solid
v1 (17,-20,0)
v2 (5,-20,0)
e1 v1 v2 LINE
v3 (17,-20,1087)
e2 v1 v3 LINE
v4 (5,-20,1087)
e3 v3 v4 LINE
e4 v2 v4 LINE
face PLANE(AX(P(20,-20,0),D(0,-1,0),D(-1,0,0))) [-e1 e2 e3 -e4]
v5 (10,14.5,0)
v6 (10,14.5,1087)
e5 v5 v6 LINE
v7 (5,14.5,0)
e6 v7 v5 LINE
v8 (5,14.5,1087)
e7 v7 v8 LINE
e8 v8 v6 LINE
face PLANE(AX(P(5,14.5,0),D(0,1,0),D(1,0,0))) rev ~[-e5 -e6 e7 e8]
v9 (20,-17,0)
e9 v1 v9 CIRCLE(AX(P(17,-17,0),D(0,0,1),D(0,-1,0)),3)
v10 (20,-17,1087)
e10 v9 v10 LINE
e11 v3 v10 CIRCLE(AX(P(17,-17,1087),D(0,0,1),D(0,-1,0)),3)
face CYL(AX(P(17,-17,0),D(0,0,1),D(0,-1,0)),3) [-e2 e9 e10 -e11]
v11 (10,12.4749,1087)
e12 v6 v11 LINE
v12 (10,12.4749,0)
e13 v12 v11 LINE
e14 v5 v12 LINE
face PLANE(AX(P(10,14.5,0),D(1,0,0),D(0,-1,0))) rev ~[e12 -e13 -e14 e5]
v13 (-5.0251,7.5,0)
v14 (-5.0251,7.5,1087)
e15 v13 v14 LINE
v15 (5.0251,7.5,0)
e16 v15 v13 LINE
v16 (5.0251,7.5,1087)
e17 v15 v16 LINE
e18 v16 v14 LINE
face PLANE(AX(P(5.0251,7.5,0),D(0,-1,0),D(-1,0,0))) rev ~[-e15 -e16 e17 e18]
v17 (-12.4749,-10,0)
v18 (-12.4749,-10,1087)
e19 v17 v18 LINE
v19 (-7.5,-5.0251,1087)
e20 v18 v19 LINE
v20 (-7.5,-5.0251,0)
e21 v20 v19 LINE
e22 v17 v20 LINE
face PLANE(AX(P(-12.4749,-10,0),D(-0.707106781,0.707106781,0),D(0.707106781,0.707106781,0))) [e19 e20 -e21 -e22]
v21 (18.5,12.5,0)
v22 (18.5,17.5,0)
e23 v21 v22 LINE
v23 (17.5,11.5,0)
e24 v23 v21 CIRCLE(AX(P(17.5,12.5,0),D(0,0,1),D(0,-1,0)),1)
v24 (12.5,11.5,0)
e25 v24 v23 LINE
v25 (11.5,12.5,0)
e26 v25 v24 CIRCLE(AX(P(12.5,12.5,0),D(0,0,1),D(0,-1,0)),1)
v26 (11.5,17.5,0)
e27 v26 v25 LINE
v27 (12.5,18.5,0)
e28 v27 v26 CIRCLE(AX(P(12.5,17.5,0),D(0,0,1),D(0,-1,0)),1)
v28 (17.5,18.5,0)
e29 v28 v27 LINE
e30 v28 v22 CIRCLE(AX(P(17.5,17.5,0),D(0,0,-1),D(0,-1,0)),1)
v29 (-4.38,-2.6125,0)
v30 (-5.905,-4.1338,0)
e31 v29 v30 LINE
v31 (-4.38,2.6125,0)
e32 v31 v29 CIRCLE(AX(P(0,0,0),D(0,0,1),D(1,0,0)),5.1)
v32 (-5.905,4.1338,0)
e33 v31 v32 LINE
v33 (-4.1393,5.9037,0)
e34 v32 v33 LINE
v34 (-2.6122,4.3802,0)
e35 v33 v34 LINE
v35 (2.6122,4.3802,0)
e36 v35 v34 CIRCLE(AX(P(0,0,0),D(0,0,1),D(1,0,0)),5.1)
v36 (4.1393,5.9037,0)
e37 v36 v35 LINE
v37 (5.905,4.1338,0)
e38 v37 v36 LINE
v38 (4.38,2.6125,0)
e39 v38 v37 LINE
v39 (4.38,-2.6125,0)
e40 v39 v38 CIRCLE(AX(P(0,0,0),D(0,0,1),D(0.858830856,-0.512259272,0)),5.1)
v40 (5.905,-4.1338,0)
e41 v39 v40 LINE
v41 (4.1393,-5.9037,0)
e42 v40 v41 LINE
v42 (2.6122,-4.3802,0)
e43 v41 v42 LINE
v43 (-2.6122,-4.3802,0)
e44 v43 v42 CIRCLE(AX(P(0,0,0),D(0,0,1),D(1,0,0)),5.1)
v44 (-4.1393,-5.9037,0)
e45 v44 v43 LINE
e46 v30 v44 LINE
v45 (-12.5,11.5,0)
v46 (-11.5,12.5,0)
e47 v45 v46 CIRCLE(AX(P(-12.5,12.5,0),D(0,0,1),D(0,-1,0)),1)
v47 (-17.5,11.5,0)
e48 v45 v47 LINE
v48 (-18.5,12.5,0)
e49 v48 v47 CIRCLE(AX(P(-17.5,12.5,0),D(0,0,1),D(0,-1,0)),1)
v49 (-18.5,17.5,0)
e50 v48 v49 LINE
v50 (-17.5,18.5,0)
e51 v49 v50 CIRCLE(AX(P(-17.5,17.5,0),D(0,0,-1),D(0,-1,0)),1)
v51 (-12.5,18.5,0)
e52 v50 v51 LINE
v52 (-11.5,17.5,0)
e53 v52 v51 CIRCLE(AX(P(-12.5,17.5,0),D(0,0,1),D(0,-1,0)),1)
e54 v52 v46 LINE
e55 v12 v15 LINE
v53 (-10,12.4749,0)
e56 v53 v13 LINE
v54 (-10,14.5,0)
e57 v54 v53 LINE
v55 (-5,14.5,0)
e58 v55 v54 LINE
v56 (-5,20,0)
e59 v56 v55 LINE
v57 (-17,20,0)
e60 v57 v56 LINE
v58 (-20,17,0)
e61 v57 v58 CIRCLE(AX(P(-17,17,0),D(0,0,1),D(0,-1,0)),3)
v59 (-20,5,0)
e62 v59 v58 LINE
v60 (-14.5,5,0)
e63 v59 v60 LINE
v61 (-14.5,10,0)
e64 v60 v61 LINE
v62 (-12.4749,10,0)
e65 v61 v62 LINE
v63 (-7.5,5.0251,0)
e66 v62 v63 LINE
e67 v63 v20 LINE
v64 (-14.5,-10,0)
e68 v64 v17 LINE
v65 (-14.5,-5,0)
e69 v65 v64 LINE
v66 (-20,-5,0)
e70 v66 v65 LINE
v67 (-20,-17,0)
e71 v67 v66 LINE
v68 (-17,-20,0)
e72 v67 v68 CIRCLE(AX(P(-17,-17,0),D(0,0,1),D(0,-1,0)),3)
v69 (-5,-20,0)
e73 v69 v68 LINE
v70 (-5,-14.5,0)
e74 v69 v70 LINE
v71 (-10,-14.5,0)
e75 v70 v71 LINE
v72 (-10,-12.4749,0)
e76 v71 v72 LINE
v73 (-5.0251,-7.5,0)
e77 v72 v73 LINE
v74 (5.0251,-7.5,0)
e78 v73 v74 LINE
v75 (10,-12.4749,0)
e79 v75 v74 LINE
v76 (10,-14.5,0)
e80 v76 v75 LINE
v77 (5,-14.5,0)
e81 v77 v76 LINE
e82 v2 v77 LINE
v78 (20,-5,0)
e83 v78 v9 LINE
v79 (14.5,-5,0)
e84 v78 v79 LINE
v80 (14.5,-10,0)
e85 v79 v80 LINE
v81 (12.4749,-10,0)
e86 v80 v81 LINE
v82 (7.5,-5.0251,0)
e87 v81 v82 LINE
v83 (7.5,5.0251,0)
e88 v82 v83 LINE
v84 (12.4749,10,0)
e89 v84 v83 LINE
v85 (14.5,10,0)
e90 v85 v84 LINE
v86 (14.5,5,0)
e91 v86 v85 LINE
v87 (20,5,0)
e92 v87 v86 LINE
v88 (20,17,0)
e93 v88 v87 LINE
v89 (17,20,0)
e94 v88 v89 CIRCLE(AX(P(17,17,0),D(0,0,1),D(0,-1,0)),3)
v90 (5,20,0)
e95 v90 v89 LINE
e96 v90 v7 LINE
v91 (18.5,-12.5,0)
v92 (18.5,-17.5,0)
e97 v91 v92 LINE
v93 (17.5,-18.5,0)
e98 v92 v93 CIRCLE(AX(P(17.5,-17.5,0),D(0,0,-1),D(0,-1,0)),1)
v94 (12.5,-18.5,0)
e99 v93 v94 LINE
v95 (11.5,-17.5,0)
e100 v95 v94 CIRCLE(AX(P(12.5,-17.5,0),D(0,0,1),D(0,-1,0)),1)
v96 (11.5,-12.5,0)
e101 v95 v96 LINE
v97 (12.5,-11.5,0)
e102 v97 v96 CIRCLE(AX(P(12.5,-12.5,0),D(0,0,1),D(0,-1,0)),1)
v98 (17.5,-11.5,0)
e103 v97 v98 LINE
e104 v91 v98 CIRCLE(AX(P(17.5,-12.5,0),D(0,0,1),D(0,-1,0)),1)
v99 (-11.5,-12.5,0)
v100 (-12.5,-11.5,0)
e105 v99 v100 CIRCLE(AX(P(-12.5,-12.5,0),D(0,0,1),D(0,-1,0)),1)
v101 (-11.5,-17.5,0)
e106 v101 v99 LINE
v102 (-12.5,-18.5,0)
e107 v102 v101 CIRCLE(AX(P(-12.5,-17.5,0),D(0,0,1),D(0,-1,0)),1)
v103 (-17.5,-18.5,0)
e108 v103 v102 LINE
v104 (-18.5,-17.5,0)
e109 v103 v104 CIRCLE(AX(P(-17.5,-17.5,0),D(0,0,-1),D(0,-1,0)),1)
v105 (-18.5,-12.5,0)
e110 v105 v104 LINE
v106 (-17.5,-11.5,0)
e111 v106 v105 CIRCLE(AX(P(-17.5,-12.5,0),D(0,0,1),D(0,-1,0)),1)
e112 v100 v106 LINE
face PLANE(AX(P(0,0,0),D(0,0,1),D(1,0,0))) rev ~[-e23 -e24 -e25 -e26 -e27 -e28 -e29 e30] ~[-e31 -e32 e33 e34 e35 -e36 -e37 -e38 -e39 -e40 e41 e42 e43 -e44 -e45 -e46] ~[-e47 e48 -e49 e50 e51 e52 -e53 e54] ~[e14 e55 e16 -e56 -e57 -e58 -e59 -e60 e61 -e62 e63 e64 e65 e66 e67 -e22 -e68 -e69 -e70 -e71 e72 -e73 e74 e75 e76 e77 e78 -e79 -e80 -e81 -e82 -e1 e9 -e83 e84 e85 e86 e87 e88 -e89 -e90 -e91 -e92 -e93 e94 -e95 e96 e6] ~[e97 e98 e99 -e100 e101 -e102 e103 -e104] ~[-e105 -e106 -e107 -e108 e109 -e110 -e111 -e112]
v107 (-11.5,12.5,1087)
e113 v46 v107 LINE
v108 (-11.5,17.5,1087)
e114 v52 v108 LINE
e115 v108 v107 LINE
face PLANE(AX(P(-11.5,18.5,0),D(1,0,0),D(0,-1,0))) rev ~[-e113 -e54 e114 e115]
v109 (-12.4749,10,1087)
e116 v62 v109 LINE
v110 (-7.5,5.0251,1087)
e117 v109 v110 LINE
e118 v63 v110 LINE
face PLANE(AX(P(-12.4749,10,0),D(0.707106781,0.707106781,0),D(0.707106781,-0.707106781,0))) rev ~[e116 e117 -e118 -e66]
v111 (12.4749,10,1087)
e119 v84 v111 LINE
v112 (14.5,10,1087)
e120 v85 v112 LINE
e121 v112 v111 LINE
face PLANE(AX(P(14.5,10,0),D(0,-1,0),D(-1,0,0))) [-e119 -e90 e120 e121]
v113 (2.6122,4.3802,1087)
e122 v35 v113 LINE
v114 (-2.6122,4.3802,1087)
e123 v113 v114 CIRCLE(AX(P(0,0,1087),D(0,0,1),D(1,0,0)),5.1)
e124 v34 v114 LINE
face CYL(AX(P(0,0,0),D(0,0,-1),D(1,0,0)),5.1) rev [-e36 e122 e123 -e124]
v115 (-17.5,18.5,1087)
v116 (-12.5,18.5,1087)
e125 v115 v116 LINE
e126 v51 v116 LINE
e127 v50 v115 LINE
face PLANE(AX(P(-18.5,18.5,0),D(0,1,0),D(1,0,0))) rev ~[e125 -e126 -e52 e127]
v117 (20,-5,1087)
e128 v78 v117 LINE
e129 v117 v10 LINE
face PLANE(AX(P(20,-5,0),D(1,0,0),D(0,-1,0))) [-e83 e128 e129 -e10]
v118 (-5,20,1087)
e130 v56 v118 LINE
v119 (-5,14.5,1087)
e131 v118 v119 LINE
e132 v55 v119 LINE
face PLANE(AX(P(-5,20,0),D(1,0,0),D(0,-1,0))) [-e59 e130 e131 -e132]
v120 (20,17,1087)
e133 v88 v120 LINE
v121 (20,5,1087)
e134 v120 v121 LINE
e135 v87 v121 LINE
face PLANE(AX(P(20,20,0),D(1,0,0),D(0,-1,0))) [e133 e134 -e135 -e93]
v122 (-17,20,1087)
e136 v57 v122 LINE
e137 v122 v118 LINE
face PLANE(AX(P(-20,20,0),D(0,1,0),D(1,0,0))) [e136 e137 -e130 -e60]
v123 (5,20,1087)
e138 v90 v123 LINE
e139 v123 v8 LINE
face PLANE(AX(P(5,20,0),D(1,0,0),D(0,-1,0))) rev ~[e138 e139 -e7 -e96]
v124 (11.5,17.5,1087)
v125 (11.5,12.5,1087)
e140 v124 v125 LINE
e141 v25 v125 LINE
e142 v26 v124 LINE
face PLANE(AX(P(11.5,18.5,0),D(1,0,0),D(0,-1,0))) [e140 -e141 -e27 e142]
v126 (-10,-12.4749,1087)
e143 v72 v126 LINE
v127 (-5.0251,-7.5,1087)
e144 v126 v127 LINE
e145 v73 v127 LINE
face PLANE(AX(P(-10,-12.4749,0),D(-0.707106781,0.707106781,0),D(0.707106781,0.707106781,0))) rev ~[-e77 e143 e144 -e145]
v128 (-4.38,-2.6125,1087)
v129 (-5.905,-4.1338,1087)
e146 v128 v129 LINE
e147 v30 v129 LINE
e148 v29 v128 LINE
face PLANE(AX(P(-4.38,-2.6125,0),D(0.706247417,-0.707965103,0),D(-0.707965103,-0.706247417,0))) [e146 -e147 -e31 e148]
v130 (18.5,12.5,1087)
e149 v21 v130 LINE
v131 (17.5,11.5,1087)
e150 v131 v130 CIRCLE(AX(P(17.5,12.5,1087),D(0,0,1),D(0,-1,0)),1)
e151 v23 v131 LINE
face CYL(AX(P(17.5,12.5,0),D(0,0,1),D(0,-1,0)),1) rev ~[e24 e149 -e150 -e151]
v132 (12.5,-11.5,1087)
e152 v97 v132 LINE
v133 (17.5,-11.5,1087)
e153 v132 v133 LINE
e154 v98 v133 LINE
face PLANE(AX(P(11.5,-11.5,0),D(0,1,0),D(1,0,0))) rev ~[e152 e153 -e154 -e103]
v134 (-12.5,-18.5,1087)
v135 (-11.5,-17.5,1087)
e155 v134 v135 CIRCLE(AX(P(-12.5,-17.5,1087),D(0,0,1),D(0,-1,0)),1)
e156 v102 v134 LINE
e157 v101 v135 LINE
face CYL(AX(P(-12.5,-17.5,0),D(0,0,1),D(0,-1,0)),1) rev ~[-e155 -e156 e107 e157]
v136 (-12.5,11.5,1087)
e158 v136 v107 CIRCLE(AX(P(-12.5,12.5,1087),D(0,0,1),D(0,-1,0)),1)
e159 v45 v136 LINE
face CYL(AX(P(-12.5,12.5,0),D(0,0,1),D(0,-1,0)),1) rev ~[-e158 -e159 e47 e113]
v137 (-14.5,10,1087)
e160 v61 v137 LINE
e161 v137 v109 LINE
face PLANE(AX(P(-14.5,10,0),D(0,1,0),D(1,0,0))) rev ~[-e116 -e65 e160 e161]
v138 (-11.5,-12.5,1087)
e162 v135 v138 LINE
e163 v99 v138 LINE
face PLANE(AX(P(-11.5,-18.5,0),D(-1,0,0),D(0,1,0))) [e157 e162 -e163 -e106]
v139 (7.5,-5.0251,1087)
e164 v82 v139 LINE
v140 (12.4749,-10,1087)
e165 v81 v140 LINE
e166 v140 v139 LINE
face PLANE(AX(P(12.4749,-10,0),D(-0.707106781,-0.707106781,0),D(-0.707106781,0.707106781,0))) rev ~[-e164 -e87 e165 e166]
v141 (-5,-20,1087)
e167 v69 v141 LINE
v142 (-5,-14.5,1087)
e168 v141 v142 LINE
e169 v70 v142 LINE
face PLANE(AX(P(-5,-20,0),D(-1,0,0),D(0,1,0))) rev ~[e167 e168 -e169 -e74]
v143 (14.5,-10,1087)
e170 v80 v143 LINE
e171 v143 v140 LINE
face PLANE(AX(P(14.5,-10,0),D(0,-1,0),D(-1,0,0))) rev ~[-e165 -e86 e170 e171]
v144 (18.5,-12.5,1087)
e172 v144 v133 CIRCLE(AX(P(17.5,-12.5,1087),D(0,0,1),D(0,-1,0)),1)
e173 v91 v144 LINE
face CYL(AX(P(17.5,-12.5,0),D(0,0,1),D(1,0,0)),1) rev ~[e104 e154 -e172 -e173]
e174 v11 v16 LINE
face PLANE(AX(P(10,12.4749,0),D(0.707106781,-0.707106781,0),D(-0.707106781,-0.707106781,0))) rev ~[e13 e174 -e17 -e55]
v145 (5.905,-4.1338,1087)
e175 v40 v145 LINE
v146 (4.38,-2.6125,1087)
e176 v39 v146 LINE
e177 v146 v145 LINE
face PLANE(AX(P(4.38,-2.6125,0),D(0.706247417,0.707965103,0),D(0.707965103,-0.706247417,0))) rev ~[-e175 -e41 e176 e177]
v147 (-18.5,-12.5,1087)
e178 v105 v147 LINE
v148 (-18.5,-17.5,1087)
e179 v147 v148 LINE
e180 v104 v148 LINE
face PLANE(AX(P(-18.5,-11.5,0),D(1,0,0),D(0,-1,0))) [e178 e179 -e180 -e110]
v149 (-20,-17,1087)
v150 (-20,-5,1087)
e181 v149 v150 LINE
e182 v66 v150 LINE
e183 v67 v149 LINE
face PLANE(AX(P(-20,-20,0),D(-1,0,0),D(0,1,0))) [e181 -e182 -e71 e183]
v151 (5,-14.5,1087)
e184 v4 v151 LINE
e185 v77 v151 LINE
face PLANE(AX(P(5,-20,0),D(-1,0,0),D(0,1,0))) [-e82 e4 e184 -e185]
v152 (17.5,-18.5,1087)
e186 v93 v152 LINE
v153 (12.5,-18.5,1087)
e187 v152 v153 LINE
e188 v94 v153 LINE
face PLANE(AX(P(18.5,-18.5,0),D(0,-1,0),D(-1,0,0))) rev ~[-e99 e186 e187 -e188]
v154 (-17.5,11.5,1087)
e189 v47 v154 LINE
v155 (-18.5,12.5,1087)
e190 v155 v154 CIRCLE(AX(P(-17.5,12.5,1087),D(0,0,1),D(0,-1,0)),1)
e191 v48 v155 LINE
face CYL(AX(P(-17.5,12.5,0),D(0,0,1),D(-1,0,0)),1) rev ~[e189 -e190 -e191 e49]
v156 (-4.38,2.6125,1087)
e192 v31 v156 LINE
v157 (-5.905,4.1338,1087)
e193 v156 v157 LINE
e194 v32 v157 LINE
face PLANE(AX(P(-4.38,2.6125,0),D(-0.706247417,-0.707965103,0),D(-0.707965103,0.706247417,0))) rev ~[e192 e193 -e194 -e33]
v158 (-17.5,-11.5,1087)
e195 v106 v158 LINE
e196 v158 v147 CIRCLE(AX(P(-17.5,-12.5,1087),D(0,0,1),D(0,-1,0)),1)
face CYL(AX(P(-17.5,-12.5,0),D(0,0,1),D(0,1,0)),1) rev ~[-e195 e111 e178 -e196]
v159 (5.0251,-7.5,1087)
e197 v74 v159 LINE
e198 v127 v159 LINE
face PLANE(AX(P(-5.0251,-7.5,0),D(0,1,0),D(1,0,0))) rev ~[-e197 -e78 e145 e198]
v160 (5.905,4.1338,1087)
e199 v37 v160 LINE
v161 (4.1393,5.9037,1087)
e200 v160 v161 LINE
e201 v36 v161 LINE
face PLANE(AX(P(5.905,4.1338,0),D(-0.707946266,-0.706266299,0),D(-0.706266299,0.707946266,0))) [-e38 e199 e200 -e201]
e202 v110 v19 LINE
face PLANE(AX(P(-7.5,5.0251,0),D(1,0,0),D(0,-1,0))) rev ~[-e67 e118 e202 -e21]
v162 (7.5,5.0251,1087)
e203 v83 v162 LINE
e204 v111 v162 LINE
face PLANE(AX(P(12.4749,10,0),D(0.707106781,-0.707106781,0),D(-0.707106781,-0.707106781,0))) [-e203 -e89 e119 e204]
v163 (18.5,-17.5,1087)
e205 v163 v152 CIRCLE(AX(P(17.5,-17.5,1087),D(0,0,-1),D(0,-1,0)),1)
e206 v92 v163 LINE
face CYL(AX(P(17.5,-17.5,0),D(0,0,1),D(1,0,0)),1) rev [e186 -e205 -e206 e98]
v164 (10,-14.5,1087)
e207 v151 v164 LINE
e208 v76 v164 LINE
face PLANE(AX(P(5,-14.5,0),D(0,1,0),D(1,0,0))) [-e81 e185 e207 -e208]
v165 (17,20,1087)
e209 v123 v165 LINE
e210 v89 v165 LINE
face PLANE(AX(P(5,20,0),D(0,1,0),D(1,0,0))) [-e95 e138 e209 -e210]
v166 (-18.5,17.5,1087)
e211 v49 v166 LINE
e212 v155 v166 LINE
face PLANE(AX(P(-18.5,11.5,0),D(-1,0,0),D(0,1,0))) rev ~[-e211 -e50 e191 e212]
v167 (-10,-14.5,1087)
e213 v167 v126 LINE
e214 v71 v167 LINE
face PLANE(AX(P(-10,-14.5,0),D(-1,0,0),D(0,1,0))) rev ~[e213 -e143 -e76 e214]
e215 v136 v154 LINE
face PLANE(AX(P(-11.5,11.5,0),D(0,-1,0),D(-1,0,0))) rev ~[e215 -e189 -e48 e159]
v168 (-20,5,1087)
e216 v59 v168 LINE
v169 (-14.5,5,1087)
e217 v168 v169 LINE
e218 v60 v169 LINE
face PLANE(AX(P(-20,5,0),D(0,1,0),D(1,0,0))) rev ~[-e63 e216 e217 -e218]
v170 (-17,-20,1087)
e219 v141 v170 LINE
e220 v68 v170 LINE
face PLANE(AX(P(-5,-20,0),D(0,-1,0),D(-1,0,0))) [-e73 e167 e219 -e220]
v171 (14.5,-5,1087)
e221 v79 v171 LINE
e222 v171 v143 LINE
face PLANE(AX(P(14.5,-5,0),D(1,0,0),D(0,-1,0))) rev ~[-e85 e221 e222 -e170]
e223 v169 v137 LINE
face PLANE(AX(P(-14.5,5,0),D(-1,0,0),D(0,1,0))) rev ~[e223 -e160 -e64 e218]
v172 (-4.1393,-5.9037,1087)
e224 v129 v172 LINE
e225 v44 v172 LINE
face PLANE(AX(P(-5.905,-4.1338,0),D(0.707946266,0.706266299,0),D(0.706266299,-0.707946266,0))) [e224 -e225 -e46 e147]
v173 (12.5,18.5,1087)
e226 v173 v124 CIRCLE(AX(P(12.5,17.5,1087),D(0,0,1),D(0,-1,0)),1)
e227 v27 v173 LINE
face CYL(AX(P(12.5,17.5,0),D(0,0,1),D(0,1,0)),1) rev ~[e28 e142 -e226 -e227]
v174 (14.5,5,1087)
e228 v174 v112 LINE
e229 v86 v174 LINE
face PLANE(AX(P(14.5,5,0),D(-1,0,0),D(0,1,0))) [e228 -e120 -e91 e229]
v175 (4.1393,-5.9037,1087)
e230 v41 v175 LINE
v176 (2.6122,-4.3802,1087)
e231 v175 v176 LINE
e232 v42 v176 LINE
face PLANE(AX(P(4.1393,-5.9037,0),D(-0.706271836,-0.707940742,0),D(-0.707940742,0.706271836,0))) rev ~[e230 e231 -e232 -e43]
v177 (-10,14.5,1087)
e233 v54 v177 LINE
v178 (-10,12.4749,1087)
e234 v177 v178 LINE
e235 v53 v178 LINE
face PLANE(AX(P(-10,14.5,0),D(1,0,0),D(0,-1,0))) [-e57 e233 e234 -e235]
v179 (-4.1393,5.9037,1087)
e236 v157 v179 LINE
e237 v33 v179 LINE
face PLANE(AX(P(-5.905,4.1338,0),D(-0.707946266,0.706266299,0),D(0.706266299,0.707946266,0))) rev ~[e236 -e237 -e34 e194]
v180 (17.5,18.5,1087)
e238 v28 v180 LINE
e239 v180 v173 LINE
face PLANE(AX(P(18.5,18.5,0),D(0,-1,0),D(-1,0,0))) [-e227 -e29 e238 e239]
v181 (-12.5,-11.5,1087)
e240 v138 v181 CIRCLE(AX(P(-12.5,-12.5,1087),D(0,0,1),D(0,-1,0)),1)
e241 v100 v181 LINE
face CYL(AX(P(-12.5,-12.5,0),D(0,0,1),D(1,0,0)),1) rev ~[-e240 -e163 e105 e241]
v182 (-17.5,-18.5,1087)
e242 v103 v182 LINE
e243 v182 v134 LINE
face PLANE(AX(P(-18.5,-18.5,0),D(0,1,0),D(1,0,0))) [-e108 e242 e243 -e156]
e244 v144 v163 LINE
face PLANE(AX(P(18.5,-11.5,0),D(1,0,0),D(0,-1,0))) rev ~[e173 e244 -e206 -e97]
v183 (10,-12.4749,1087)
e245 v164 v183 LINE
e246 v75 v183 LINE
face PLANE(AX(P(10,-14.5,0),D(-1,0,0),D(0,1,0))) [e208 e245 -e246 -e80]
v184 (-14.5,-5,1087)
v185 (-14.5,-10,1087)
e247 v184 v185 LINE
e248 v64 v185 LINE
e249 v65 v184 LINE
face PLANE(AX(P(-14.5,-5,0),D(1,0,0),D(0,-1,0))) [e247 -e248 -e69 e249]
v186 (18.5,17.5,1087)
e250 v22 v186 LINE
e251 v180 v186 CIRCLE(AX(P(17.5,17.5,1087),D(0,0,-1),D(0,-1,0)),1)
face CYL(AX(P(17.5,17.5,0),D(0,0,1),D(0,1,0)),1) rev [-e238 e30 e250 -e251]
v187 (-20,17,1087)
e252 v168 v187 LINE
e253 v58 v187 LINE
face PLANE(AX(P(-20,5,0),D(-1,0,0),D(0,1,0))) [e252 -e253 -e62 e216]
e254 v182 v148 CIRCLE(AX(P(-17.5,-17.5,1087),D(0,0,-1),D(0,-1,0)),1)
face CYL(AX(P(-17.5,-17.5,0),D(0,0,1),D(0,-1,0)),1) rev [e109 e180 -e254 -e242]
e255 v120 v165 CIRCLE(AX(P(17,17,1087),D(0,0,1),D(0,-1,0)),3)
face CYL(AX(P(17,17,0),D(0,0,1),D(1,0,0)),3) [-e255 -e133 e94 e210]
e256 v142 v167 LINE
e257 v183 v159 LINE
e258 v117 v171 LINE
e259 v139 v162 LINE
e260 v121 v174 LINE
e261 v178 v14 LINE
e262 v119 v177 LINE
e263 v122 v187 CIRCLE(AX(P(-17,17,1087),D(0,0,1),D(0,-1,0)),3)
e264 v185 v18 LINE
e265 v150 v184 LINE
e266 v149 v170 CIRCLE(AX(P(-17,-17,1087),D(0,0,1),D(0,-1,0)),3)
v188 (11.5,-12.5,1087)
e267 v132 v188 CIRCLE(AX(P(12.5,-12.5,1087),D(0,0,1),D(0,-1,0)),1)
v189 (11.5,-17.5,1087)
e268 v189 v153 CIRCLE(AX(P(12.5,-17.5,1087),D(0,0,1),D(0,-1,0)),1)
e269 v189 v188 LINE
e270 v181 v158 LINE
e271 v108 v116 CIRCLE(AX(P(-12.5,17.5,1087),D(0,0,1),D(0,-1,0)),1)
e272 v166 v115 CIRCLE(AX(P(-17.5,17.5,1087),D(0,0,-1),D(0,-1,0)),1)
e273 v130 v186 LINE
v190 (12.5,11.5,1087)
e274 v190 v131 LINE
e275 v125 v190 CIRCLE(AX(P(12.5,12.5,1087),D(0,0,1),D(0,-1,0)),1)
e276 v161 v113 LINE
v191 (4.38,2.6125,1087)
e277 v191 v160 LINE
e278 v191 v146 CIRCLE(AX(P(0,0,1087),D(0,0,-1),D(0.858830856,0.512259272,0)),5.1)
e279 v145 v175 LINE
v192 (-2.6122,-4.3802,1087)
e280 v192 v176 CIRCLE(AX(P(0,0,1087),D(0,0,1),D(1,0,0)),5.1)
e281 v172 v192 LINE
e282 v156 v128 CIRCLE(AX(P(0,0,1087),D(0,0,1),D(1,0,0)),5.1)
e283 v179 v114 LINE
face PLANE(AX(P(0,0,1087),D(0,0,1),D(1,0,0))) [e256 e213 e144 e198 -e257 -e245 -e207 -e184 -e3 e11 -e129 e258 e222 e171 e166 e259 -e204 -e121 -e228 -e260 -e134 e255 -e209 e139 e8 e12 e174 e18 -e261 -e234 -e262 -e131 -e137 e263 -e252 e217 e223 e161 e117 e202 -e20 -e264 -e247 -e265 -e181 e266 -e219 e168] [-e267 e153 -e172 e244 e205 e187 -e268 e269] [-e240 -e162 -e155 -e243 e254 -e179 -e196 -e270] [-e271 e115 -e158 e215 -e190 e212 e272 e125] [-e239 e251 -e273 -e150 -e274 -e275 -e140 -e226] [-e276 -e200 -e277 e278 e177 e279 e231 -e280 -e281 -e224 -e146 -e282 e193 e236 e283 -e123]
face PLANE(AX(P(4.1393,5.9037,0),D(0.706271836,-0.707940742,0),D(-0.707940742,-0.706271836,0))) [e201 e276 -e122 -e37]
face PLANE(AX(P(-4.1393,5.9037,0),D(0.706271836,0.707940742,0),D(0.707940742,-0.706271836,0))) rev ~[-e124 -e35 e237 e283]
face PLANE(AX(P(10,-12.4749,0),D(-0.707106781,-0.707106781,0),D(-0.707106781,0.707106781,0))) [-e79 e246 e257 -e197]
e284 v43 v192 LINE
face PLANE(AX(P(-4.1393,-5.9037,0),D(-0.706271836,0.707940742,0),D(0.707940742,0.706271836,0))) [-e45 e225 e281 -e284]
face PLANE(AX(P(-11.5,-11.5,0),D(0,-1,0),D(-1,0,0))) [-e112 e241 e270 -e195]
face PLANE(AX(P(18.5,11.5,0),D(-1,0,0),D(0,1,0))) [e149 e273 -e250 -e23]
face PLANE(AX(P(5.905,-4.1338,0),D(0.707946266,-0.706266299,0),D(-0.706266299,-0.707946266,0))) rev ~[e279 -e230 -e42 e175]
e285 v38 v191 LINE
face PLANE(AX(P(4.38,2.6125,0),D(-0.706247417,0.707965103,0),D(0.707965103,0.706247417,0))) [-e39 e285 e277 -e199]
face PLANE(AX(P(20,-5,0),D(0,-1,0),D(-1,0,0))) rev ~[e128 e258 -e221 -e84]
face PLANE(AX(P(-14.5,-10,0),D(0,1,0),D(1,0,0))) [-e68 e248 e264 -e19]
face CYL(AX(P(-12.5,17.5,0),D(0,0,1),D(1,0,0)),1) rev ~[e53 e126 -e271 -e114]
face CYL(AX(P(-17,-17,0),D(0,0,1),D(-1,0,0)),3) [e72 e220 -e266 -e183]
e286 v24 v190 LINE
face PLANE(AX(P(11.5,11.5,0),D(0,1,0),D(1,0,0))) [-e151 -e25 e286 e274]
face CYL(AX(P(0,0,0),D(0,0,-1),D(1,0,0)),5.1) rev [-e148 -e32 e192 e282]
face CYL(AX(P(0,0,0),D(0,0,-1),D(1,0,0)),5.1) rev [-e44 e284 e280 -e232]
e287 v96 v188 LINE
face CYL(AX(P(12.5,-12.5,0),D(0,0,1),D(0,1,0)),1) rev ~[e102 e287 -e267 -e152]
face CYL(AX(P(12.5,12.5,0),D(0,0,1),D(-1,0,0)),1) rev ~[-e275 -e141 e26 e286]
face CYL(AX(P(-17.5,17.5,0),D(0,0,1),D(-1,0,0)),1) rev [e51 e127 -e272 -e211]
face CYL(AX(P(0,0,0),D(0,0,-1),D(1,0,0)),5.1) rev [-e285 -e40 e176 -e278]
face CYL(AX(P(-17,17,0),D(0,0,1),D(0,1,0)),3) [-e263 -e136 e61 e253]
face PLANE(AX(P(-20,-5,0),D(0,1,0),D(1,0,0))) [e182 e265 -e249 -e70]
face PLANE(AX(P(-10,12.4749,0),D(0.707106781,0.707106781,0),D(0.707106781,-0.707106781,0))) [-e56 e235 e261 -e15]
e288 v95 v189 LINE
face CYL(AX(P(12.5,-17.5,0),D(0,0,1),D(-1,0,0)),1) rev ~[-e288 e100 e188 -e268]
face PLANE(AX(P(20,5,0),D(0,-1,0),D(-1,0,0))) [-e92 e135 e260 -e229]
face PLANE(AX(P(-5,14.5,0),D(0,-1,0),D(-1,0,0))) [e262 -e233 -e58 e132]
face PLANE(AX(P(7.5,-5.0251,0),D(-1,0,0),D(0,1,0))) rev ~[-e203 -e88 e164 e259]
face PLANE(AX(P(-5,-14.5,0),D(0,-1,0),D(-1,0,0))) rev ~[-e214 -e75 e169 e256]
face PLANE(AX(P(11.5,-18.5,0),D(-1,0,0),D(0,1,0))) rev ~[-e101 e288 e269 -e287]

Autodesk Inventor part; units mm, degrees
ref_plane "YZ Plane" through (0, 0, 0) normal (1, 0, 0) x (0, 1, 0)
ref_plane "XZ Plane" through (0, 0, 0) normal (0, 1, 0) x (-1, 0, 0)
ref_plane "XY Plane" through (0, 0, 0) normal (0, 0, 1) x (1, 0, 0)
sketch "T-Slot 4040 Base" plane through (0, 0, 0) normal (0, 0, 1) x (1, 0, 0)
  line L0 (-28, 0) -> (28, 0) construction
  line L1 (0, -28) -> (0, 28) construction
  circle A0 centre (0, 0) radius 5.1
  line L2 (-7.5, -7.5) -> (7.5, -7.5)
  line L3 (7.5, -7.5) -> (7.5, 7.5)
  line L4 (7.5, 7.5) -> (-7.5, 7.5)
  line L5 (-7.5, 7.5) -> (-7.5, -7.5)
  line L6 (-7.5, -7.5) -> (7.5, 7.5) construction
  line L7 (7.5, -7.5) -> (-7.5, 7.5) construction
  line L8 (-20, 20) -> (20, 20)
  line L9 (20, 20) -> (20, -20)
  line L10 (20, -20) -> (-20, -20)
  line L11 (-20, -20) -> (-20, 20)
  line L12 (-20, 20) -> (20, -20) construction
  line L13 (20, 20) -> (-20, -20) construction
  line L14 (20, 5) -> (14.5, 5)
  line L15 (14.5, 5) -> (14.5, 10)
  line L16 (14.5, 10) -> (12.4749, 10)
  line L17 (12.4749, 10) -> (7.5, 5.0251)
  line L18 (5, 20) -> (5, 14.5)
  line L19 (5, 14.5) -> (10, 14.5)
  line L20 (10, 14.5) -> (10, 12.4749)
  line L21 (10, 12.4749) -> (5.0251, 7.5)
  line L22 (18.5, 18.5) -> (11.5, 18.5)
  line L23 (11.5, 18.5) -> (11.5, 11.5)
  line L24 (11.5, 11.5) -> (18.5, 11.5)
  line L25 (18.5, 11.5) -> (18.5, 18.5)
  line L26 (18.5, 18.5) -> (11.5, 11.5) construction
  line L27 (11.5, 18.5) -> (18.5, 11.5) construction
  line L28 (3.0732, 1.3088) -> (4.38, 2.6125) construction
  line L29 (5.905, 4.1338) -> (4.1393, 5.9037)
  line L30 (4.1393, 5.9037) -> (2.6122, 4.3802)
  line L31 (1.3075, 3.0787) -> (3.0732, 1.3088) construction
  line L32 (3.0732, 1.3088) -> (4.1393, 5.9037) construction
  line L33 (5.905, 4.1338) -> (1.3075, 3.0787) construction
  line L34 (4.38, 2.6125) -> (5.905, 4.1338)
  line L35 (2.6122, 4.3802) -> (1.3075, 3.0787) construction
  line L36 (-20, 5) -> (-14.5, 5)
  line L37 (-14.5, 5) -> (-14.5, 10)
  line L38 (-14.5, 10) -> (-12.4749, 10)
  line L39 (-12.4749, 10) -> (-7.5, 5.0251)
  line L40 (-5, 20) -> (-5, 14.5)
  line L41 (-5, 14.5) -> (-10, 14.5)
  line L42 (-10, 14.5) -> (-10, 12.4749)
  line L43 (-10, 12.4749) -> (-5.0251, 7.5)
  line L44 (-18.5, 18.5) -> (-11.5, 18.5)
  line L45 (-11.5, 18.5) -> (-11.5, 11.5)
  line L46 (-11.5, 11.5) -> (-18.5, 11.5)
  line L47 (-18.5, 11.5) -> (-18.5, 18.5)
  line L48 (-5.905, 4.1338) -> (-4.1393, 5.9037)
  line L49 (-4.1393, 5.9037) -> (-2.6122, 4.3802)
  line L50 (-4.38, 2.6125) -> (-5.905, 4.1338)
  line L51 (7.5, -7.5) -> (-7.5, -7.5)
  line L52 (20, -5) -> (14.5, -5)
  line L53 (14.5, -5) -> (14.5, -10)
  line L54 (14.5, -10) -> (12.4749, -10)
  line L55 (12.4749, -10) -> (7.5, -5.0251)
  line L56 (5, -20) -> (5, -14.5)
  line L57 (5, -14.5) -> (10, -14.5)
  line L58 (10, -14.5) -> (10, -12.4749)
  line L59 (10, -12.4749) -> (5.0251, -7.5)
  line L60 (18.5, -18.5) -> (11.5, -18.5)
  line L61 (11.5, -18.5) -> (11.5, -11.5)
  line L62 (11.5, -11.5) -> (18.5, -11.5)
  line L63 (18.5, -11.5) -> (18.5, -18.5)
  line L64 (18.5, -18.5) -> (11.5, -11.5) construction
  line L65 (11.5, -18.5) -> (18.5, -11.5) construction
  line L66 (3.0732, -1.3088) -> (4.38, -2.6125) construction
  line L67 (5.905, -4.1338) -> (4.1393, -5.9037)
  line L68 (4.1393, -5.9037) -> (2.6122, -4.3802)
  line L69 (1.3075, -3.0787) -> (3.0732, -1.3088) construction
  line L70 (3.0732, -1.3088) -> (4.1393, -5.9037) construction
  line L71 (5.905, -4.1338) -> (1.3075, -3.0787) construction
  line L72 (4.38, -2.6125) -> (5.905, -4.1338)
  line L73 (2.6122, -4.3802) -> (1.3075, -3.0787) construction
  line L74 (-4.38, -2.6125) -> (-5.905, -4.1338)
  line L75 (-4.1393, -5.9037) -> (-2.6122, -4.3802)
  line L76 (-5.905, -4.1338) -> (-4.1393, -5.9037)
  line L77 (-12.4749, -10) -> (-7.5, -5.0251)
  line L78 (-10, -12.4749) -> (-5.0251, -7.5)
  line L79 (-10, -14.5) -> (-10, -12.4749)
  line L80 (-5, -14.5) -> (-10, -14.5)
  line L81 (-5, -20) -> (-5, -14.5)
  line L82 (-18.5, -18.5) -> (-11.5, -18.5)
  line L83 (-11.5, -18.5) -> (-11.5, -11.5)
  line L84 (-11.5, -11.5) -> (-18.5, -11.5)
  line L85 (-18.5, -11.5) -> (-18.5, -18.5)
  line L86 (-14.5, -10) -> (-12.4749, -10)
  line L87 (-14.5, -5) -> (-14.5, -10)
  line L88 (-20, -5) -> (-14.5, -5)
  point P0 (15, 15)
  point P1 (3.6062, 3.6062)
  point P2 (3.6062, 3.6062)
  point P3 (15, -15)
  point P4 (3.6062, -3.6062)
  point P5 (3.6062, -3.6062)
  dimension "d9" = 10.2
  dimension "d12" = 40
  dimension "d13" = 40
  dimension "d14" = 5.5
  dimension "d15" = 15
  dimension "d16" = 7
  dimension "d17" = 10
  dimension "d20" = 1.75
  dimension "d21" = 7
  dimension "d22" = 2
  dimension "d29" = 1.5
  dimension "d30" = 2.5
extrude "Extrusion1" add sketch "T-Slot 4040 Base" along normal blind 1087 contours L5 L4 L3 L2 | L2 L78 L79 L80 L81 L10 L11 L88 L87 L86 L77 L5 | L2 L3 L55 L54 L53 L52 L9 L10 L56 L57 L58 L59 | L39 L38 L37 L36 L11 L8 L40 L41 L42 L43 L4 L5 | L3 L4 L21 L20 L19 L18 L8 L9 L14 L15 L16 L17
fillet "Rundung1" radius 1 16 edges at (11.5, 18.5, 543.5) (18.5, 18.5, 543.5) (18.5, 11.5, 543.5) (11.5, 11.5, 543.5) (-11.5, 18.5, 543.5) (-18.5, 18.5, 543.5) (-18.5, 11.5, 543.5) (-11.5, 11.5, 543.5) (-18.5, -11.5, 543.5) (-11.5, -11.5, 543.5) (-11.5, -18.5, 543.5) (-18.5, -18.5, 543.5) (11.5, -18.5, 543.5) (11.5, -11.5, 543.5) (18.5, -11.5, 543.5) (18.5, -18.5, 543.5)
fillet "Rundung2" radius 3 4 edges at (20, 20, 543.5) (20, -20, 543.5) (-20, -20, 543.5) (-20, 20, 543.5)
properties part number "T-SLOT 4040 B-Type 1087mm"
